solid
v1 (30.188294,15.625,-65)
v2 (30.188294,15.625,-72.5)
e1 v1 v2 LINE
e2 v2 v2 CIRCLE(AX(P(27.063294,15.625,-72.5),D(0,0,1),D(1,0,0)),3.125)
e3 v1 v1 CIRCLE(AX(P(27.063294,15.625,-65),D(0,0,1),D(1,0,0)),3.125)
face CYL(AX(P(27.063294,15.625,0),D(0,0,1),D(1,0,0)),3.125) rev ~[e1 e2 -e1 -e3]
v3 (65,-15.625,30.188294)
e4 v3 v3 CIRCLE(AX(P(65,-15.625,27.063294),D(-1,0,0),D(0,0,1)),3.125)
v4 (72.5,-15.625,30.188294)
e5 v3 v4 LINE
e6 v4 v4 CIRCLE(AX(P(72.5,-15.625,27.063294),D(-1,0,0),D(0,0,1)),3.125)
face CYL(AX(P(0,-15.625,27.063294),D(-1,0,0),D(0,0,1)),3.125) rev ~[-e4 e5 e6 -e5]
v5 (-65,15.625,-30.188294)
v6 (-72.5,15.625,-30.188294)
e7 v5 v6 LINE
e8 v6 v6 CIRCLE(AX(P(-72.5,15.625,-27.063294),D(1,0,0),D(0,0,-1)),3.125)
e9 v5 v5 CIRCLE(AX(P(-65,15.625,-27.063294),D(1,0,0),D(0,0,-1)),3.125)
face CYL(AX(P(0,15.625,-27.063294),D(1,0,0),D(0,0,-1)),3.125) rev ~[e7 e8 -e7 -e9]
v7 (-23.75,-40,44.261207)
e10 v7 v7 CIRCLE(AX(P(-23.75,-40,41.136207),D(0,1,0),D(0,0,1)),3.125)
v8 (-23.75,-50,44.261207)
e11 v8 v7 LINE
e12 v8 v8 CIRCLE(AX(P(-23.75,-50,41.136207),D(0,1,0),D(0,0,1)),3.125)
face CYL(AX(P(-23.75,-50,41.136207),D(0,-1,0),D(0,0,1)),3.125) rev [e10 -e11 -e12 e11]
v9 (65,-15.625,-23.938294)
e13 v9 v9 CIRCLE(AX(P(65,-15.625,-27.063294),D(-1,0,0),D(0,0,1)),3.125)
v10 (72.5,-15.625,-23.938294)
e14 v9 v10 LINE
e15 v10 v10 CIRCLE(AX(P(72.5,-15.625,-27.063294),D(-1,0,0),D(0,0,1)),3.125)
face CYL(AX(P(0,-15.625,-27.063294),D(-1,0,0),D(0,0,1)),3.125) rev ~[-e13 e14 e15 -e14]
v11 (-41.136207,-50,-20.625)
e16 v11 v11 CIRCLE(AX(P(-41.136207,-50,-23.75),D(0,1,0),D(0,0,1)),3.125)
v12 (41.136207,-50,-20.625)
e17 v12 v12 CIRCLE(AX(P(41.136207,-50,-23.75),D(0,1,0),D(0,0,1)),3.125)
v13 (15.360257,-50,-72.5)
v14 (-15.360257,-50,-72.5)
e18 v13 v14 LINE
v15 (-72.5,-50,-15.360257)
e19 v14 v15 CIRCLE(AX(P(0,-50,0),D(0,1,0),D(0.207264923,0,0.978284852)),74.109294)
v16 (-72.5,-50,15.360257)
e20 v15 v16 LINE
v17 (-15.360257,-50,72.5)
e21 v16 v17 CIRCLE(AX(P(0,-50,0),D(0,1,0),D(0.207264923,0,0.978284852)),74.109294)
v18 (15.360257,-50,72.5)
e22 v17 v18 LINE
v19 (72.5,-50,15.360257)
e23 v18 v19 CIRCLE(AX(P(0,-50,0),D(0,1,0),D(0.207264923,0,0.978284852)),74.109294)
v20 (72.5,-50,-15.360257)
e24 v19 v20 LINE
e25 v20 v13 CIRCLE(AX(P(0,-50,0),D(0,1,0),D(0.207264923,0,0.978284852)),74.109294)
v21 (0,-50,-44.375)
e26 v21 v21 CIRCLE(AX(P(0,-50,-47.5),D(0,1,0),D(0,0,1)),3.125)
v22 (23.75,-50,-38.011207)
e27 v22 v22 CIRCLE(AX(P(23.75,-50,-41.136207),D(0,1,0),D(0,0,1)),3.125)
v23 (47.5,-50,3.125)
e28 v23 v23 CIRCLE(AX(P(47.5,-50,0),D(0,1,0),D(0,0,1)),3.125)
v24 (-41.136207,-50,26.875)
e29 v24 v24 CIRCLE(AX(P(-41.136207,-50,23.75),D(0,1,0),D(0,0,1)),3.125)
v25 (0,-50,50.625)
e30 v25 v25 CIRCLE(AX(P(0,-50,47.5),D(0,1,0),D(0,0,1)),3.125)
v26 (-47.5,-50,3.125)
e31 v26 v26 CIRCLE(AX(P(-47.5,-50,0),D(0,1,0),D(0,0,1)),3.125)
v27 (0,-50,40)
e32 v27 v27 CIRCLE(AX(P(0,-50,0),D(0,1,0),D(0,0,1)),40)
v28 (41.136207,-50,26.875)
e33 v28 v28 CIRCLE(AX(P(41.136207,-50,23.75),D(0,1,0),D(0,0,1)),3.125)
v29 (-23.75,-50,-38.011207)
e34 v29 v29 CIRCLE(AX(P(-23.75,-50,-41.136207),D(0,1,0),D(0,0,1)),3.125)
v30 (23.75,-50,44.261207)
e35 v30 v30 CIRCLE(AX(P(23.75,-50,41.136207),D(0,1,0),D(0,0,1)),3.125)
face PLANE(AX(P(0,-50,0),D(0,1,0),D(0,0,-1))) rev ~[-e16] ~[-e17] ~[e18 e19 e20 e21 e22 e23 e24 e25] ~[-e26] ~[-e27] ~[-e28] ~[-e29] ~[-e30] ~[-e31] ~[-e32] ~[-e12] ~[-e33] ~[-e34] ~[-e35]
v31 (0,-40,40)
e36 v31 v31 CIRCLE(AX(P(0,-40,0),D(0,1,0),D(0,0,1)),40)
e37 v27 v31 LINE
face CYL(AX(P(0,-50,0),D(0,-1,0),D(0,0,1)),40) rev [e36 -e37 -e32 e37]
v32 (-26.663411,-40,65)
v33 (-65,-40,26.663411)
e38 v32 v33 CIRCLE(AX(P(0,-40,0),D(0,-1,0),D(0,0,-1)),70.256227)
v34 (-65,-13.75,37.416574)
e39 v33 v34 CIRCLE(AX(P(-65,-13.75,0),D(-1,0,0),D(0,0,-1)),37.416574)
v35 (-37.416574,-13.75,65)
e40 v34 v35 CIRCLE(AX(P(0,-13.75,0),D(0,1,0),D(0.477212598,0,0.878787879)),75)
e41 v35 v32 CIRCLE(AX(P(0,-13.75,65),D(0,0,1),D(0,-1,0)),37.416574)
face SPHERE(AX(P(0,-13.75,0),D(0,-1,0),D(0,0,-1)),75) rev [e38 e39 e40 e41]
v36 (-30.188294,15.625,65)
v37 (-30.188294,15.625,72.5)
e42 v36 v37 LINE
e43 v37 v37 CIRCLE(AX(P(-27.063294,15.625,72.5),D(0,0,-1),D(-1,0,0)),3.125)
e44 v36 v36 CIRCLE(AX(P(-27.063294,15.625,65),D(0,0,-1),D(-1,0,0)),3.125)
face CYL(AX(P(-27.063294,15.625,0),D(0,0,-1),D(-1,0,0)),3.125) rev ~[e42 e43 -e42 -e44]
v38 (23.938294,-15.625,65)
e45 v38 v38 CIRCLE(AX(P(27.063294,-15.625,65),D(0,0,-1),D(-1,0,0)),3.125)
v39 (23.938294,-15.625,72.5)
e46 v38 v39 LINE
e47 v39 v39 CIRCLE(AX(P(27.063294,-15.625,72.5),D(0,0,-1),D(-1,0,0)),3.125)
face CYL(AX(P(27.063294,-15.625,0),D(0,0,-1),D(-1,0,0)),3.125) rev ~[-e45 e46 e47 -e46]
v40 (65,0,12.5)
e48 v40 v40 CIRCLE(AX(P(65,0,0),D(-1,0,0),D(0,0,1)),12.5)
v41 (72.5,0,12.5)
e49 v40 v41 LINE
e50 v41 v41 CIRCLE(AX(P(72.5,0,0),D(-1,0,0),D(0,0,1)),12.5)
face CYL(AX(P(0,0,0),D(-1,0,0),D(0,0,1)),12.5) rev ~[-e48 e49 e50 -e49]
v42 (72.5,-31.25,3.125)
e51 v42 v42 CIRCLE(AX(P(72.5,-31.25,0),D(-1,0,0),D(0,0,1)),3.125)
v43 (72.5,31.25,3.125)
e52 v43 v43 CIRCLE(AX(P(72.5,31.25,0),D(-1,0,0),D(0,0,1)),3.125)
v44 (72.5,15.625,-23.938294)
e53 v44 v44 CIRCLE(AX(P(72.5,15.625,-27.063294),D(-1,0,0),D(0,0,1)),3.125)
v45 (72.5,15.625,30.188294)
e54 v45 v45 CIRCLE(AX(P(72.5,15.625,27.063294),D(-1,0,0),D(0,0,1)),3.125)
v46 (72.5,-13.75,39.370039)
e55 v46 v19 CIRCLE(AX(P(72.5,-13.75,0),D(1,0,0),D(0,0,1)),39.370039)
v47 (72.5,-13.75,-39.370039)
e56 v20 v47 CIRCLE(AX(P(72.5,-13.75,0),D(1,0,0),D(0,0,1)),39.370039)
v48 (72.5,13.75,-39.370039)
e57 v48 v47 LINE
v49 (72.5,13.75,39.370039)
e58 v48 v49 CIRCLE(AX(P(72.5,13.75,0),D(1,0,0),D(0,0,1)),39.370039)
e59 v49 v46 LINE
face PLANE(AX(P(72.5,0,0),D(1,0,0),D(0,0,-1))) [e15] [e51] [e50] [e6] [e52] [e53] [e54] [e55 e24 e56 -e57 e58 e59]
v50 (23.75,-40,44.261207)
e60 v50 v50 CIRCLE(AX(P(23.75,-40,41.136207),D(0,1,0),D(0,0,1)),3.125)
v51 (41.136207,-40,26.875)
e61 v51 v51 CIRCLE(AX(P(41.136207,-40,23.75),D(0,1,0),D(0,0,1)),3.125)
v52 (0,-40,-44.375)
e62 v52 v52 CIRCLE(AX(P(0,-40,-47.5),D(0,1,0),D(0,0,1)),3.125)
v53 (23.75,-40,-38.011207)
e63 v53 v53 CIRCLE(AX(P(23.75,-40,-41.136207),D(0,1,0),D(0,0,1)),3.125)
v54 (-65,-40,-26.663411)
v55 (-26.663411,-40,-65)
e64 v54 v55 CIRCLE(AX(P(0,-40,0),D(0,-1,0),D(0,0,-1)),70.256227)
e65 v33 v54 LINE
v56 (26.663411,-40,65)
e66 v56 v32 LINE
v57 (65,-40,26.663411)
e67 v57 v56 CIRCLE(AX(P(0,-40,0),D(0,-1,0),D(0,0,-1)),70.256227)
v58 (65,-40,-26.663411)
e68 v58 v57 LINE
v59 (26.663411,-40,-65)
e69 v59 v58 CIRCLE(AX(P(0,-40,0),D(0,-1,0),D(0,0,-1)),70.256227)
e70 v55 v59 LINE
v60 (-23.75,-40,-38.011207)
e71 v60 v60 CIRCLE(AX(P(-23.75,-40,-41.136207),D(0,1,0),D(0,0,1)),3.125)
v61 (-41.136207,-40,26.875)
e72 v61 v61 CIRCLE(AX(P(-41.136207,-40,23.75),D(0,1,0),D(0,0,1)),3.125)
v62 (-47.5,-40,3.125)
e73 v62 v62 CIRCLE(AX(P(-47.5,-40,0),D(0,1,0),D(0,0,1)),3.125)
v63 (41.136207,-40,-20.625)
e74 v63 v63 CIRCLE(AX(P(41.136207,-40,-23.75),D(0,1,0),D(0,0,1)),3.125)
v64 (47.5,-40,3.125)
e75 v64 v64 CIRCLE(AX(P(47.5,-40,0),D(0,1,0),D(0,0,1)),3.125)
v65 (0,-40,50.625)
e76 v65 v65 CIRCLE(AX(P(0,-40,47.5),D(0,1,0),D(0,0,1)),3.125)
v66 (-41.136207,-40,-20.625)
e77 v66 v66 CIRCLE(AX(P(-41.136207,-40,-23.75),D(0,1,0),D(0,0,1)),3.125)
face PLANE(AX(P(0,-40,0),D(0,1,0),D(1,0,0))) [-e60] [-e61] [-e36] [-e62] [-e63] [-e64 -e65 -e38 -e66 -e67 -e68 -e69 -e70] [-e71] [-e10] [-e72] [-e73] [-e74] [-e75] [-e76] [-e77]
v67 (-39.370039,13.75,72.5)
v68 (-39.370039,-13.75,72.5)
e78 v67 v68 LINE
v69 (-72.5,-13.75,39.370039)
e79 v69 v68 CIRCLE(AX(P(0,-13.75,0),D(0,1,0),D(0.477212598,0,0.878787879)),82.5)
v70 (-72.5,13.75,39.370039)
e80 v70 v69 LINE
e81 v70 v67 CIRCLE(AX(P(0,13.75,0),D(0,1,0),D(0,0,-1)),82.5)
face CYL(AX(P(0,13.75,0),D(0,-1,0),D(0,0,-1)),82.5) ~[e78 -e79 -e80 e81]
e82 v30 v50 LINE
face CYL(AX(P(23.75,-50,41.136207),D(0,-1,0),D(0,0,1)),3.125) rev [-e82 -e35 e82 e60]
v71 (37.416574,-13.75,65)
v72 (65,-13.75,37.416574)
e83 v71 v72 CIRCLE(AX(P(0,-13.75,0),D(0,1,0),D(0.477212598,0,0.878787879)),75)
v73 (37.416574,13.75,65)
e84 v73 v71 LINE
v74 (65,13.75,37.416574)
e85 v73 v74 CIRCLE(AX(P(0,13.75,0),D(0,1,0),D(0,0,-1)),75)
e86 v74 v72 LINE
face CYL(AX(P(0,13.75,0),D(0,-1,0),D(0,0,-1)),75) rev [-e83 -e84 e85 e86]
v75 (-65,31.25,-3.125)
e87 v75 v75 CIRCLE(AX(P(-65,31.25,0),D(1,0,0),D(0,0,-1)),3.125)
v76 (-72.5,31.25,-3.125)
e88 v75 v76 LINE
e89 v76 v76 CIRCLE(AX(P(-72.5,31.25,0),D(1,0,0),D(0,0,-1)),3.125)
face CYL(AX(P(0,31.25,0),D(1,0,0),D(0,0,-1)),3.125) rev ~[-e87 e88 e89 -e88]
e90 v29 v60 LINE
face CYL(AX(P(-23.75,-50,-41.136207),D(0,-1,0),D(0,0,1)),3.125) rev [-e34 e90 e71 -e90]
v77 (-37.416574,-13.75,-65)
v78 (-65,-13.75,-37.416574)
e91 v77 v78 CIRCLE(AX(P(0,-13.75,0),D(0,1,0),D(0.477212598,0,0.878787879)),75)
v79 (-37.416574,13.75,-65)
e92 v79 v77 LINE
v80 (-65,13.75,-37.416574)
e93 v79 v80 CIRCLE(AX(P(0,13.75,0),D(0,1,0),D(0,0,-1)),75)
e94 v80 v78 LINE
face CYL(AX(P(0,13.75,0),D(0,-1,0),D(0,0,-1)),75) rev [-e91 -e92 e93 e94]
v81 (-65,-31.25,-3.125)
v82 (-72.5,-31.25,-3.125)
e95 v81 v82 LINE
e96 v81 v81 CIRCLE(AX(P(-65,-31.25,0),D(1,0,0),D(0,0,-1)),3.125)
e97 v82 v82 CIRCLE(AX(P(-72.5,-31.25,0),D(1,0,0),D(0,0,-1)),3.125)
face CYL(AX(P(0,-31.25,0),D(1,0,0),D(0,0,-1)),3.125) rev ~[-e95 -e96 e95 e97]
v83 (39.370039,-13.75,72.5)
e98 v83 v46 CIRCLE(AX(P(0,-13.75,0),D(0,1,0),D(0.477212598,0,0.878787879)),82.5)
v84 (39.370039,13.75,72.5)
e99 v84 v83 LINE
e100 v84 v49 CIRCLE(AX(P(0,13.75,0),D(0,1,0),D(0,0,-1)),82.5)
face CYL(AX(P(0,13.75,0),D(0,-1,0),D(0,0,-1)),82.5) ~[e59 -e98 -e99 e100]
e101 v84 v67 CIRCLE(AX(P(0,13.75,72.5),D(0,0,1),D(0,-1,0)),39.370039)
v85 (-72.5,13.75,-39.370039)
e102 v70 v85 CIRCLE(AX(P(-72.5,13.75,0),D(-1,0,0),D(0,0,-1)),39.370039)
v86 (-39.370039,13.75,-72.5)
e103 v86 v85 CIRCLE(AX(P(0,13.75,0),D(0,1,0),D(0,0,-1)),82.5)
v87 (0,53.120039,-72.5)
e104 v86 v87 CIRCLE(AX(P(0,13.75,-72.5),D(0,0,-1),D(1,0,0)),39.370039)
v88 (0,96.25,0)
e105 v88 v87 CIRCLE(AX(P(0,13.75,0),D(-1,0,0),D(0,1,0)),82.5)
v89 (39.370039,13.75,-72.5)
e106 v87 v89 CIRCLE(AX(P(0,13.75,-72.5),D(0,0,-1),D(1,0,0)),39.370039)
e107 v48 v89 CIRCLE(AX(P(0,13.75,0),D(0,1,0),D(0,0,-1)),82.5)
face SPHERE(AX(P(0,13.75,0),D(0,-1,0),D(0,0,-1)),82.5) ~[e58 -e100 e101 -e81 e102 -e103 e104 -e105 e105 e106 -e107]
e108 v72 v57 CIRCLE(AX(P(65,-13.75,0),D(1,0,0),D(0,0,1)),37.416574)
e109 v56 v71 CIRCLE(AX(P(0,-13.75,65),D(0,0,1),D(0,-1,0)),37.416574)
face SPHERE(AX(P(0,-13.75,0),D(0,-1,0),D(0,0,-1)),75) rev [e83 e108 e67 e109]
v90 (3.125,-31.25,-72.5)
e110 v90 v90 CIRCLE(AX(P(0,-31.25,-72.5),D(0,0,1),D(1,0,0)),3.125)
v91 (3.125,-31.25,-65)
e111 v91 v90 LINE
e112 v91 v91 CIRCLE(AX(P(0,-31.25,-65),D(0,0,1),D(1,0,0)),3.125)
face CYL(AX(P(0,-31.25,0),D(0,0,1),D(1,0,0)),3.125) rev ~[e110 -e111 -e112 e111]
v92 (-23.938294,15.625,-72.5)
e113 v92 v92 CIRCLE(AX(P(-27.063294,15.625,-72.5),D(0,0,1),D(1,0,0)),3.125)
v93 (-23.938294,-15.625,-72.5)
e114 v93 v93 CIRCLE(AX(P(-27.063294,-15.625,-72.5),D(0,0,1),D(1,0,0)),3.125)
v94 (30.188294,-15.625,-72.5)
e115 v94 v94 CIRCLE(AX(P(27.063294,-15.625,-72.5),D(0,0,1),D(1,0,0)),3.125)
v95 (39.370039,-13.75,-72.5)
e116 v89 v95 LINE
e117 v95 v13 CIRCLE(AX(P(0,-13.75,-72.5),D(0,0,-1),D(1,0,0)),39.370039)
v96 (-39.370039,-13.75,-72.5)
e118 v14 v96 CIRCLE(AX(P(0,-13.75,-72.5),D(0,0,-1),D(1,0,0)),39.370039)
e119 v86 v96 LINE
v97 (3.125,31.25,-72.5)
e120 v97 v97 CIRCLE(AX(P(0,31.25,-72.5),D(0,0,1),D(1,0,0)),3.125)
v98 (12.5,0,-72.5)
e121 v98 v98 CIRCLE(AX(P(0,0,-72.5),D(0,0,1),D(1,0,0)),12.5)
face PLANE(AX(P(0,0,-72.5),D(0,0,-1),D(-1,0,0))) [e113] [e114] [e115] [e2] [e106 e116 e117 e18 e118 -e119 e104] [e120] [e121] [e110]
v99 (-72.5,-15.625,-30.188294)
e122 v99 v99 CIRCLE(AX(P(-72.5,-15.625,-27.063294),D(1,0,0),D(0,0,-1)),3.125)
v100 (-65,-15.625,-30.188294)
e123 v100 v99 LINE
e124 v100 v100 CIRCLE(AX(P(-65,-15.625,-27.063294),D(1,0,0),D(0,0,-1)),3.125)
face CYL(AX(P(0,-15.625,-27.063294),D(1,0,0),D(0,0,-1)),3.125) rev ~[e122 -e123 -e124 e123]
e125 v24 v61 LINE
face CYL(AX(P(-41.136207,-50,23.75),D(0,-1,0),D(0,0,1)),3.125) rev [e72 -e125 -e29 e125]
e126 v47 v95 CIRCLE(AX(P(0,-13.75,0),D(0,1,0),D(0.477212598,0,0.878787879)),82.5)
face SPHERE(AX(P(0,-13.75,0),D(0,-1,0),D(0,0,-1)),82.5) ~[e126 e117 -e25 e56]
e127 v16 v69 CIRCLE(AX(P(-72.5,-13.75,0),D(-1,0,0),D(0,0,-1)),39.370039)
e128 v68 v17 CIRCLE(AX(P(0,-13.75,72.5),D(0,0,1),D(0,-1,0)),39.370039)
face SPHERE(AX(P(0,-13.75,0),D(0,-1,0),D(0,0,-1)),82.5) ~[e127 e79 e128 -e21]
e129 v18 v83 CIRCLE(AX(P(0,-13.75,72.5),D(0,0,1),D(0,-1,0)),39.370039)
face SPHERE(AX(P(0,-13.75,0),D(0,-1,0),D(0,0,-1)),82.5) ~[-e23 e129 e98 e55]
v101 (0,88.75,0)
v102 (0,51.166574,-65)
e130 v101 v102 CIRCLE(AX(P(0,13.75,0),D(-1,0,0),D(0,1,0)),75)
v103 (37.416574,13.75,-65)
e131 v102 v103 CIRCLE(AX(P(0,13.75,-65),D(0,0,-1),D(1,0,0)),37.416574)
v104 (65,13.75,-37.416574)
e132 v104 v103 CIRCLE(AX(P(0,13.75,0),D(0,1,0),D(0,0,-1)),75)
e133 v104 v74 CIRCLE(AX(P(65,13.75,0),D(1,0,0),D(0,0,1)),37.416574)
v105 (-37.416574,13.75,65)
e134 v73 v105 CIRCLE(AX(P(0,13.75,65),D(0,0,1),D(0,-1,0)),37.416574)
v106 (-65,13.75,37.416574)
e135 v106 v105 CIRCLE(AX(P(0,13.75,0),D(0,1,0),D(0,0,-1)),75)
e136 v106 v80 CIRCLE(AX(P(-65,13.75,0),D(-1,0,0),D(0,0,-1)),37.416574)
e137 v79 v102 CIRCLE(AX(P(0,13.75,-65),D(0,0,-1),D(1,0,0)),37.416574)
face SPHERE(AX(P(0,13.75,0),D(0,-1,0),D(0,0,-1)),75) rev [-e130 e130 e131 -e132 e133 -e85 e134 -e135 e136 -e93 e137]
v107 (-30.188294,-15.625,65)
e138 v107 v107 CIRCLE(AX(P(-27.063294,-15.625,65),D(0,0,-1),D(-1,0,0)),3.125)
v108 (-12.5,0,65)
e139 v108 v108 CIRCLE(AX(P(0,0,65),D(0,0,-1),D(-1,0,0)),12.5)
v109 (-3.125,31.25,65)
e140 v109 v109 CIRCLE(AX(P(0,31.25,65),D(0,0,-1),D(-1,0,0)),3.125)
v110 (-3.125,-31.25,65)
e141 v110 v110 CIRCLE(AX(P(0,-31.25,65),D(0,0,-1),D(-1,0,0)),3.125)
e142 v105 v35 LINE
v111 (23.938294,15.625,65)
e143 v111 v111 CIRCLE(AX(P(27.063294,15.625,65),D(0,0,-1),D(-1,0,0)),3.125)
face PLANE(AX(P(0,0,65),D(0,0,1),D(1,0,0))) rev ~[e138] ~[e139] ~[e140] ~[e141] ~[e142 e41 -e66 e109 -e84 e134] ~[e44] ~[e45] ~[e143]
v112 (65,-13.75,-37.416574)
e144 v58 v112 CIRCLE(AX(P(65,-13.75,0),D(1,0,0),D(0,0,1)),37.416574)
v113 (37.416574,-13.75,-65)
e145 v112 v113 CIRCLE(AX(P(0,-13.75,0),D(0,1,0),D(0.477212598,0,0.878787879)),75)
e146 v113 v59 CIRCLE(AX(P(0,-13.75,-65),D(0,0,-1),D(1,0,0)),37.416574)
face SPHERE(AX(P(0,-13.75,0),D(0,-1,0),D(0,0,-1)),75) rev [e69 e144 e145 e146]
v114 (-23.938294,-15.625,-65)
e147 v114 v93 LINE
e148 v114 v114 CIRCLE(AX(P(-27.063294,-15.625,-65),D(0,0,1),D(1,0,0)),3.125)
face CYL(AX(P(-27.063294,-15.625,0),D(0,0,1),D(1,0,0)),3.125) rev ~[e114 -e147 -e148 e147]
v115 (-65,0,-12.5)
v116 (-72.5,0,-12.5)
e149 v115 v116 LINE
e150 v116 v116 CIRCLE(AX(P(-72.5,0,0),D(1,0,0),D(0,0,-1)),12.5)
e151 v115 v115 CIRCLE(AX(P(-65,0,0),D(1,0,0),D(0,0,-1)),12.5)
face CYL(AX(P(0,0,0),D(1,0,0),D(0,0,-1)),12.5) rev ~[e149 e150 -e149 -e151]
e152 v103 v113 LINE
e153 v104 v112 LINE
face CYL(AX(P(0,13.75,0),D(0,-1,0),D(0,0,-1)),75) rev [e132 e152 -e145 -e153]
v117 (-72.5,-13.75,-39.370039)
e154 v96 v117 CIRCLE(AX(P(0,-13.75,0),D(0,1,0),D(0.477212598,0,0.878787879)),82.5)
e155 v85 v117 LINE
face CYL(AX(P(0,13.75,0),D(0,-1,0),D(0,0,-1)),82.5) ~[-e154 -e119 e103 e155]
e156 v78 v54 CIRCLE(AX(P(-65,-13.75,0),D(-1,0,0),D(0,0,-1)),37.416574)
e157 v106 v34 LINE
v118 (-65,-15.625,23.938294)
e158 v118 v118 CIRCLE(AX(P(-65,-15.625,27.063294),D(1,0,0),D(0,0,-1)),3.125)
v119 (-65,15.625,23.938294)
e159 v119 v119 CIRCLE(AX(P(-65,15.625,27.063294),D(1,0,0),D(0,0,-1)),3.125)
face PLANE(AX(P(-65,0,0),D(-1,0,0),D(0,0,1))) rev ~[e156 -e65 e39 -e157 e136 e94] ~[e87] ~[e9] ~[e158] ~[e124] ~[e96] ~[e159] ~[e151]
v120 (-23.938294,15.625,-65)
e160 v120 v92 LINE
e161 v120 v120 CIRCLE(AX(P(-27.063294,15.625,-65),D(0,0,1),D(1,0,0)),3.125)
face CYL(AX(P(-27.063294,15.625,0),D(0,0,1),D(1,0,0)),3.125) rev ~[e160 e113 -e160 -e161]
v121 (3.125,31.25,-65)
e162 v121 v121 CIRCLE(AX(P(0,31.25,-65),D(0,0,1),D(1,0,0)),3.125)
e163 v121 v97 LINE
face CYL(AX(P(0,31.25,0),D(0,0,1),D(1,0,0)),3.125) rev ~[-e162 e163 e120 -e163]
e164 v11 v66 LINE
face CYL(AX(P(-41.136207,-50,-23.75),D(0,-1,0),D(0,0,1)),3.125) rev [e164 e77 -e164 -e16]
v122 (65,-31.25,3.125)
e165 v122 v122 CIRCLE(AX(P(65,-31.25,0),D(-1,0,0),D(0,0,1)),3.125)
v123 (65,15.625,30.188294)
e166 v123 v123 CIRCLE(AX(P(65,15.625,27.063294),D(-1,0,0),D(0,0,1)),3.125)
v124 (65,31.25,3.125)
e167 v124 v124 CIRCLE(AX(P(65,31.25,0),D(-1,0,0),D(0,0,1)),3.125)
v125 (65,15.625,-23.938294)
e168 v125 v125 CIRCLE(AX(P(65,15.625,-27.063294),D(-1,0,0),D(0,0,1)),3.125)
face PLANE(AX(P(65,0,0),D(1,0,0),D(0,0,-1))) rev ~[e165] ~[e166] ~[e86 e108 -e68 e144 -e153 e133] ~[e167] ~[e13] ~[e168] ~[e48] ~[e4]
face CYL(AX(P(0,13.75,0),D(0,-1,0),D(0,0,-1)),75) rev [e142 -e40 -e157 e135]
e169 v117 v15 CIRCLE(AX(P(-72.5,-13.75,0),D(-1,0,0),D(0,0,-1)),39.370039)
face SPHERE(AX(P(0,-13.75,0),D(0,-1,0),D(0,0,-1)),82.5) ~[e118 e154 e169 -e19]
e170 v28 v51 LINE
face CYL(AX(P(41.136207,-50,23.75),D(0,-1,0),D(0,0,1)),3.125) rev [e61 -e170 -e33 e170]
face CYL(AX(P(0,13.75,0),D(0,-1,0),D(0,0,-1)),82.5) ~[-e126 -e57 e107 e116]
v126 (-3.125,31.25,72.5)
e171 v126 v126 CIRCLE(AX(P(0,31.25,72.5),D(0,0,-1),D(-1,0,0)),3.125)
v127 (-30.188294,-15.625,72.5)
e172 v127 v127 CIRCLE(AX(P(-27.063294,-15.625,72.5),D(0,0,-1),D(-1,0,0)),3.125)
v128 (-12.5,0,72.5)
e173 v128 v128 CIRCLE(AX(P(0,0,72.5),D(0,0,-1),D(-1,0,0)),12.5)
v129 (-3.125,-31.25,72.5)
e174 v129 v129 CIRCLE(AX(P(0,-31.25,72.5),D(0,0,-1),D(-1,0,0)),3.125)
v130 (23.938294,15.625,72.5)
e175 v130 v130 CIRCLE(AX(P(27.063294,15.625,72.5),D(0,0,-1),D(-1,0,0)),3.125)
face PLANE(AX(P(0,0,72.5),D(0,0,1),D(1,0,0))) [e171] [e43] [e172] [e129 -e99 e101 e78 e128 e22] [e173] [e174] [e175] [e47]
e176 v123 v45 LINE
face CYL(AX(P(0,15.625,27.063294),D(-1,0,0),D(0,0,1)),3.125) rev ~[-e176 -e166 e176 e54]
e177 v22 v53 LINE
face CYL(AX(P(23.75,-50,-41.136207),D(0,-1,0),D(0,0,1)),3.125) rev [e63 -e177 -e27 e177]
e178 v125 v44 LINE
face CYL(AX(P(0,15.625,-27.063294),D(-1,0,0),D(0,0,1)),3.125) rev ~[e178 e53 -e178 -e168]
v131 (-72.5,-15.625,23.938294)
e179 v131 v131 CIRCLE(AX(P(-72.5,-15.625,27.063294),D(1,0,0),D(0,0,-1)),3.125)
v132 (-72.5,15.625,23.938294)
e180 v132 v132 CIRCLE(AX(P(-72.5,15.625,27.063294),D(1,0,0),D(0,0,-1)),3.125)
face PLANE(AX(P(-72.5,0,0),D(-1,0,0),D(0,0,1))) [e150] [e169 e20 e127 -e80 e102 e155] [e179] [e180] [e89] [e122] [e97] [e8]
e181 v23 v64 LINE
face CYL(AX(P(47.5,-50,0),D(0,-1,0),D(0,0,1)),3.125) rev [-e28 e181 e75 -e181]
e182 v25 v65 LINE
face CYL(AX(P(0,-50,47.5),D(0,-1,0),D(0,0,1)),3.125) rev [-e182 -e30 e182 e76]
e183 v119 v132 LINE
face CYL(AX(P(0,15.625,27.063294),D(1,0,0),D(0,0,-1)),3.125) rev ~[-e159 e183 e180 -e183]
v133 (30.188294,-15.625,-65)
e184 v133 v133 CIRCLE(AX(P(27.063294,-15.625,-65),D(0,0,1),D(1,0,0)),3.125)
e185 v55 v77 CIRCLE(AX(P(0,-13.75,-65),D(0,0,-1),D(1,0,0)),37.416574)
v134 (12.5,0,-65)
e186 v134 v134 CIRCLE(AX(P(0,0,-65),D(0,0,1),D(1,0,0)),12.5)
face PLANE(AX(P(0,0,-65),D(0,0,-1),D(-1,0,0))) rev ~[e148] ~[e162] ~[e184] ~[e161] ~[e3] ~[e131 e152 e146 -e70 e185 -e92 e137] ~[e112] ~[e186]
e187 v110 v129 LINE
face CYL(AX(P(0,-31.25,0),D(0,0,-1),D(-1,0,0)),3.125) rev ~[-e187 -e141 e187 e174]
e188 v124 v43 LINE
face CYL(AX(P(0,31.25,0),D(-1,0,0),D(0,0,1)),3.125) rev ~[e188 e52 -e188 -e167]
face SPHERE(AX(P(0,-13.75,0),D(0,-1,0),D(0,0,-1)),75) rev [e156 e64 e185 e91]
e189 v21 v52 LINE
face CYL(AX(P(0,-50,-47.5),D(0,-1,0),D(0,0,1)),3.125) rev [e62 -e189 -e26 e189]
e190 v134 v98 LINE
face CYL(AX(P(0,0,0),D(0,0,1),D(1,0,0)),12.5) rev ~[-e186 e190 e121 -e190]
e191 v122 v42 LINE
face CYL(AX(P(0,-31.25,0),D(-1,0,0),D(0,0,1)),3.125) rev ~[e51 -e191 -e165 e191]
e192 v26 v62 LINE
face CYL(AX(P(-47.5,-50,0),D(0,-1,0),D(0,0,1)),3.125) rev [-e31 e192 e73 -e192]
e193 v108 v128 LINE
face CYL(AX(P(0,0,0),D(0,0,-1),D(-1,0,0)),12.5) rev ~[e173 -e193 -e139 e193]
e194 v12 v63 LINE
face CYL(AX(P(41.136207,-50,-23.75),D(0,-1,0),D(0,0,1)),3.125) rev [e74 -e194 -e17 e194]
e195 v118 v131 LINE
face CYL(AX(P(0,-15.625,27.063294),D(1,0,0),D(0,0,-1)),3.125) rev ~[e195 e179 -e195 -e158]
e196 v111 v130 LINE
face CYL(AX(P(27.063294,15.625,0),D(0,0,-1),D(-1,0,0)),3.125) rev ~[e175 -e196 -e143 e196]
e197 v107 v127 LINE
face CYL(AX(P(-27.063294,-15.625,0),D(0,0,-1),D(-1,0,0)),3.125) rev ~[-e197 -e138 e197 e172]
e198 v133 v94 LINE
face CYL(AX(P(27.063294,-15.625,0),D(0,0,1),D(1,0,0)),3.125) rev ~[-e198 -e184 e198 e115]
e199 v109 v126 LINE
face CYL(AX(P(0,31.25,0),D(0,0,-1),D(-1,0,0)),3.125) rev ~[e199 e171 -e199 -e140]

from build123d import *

# Parameters (mm, degrees)
CUT_EXTRUDE2_START  = 500
SKETCH3_R           = 96.25
CUT_EXTRUDE2_DEPTH  = 427.5
CIRPATTERN4_COUNT   = 4
SHELL2_T            = -7.5
SKETCH3_3_R         = 12.5
SKETCH3_3_R_2       = 3.125
CUT_EXTRUDE3_DEPTH  = 141.629166605
CIRPATTERN5_COUNT   = 4
BOSS_EXTRUDE1_START = -50
SKETCH5_R           = 40
SKETCH5_R_2         = 3.125
BOSS_EXTRUDE1_DEPTH = 10


with BuildPart() as part:
    # Main Revolve Sketch → Main Revolve (revolve)
    with BuildSketch(Plane.XY, mode=Mode.PRIVATE) as main_revolve_sk:
        with BuildLine():
            Line((0, 0), (0, 96.25))
            ThreePointArc((0, 96.25), (-58.336309448, 72.086309448), (-82.5, 13.75))
            Line((-82.5, 13.75), (-82.5, 0))
            Line((-82.5, 0), (-82.5, -13.75))
            ThreePointArc((-82.5, -13.75), (-80.374954989, -32.354209486), (-74.109294289, -50))
            Line((-74.109294289, -50), (0, -50))
            Line((0, -50), (0, 0))
        make_face()
    revolve(main_revolve_sk.sketch.rotate(Axis((0, 0, 0), (0, 1, 0)), 270), axis=Axis((0, 0, 0), (0, 1, 0)))

    # Sketch3 → Cut-Extrude2 (cut)
    with BuildSketch(Plane.XY.offset(CUT_EXTRUDE2_START)):
        Circle(SKETCH3_R)
    cut_extrude2 = extrude(amount=-CUT_EXTRUDE2_DEPTH, mode=Mode.SUBTRACT)

    # CirPattern4: Cut-Extrude2 ×4 about axis
    cirpattern4_axis = Axis((0, 0, 0), (0, 1, 0))
    for i in range(1, CIRPATTERN4_COUNT):
        add(cut_extrude2.rotate(cirpattern4_axis, i * 360 / CIRPATTERN4_COUNT), mode=Mode.SUBTRACT)

    # Shell2
    shell2_openings = [part.faces().sort_by_distance(p)[0] for p in [
        (0, -50, 0),
    ]]
    offset(amount=SHELL2_T, openings=shell2_openings)

    # Sketch3<3> → Cut-Extrude3 (cut, through all)
    with BuildSketch(Plane.XY):
        Circle(SKETCH3_3_R)
        with Locations((0, 31.25)):
            Circle(SKETCH3_3_R_2)
        with Locations((27.063293868, 15.625)):
            Circle(SKETCH3_3_R_2)
        with Locations((27.063293868, -15.625)):
            Circle(SKETCH3_3_R_2)
        with Locations((0, -31.25)):
            Circle(SKETCH3_3_R_2)
        with Locations((-27.063293868, -15.625)):
            Circle(SKETCH3_3_R_2)
        with Locations((-27.063293868, 15.625)):
            Circle(SKETCH3_3_R_2)
    cut_extrude3 = extrude(amount=-CUT_EXTRUDE3_DEPTH, mode=Mode.SUBTRACT)

    # CirPattern5: Cut-Extrude3 ×4 about axis
    cirpattern5_axis = Axis((0, 0, 0), (0, -1, 0))
    for i in range(1, CIRPATTERN5_COUNT):
        add(cut_extrude3.rotate(cirpattern5_axis, i * 360 / CIRPATTERN5_COUNT), mode=Mode.SUBTRACT)

    # Sketch5 → Boss-Extrude1 (add)
    with BuildSketch(Plane(origin=(0, 0, 0), x_dir=(1, 0, 0), z_dir=(0, 1, 0)).offset(BOSS_EXTRUDE1_START)):
        with BuildLine():
            Line((-72.5, 15.360257159), (-72.5, -15.360257159))
            ThreePointArc((-72.5, -15.360257159), (-52.403184541, -52.403184541), (-15.360257159, -72.5))
            Line((-15.360257159, -72.5), (15.360257159, -72.5))
            ThreePointArc((15.360257159, -72.5), (52.403184541, -52.403184541), (72.5, -15.360257159))
            Line((72.5, -15.360257159), (72.5, 15.360257159))
            ThreePointArc((72.5, 15.360257159), (52.403184541, 52.403184541), (15.360257159, 72.5))
            Line((15.360257159, 72.5), (-15.360257159, 72.5))
            ThreePointArc((-15.360257159, 72.5), (-52.403184541, 52.403184541), (-72.5, 15.360257159))
        make_face()
        with Locations(Location((0, 0, 0), (0, 0, 270))):
            Circle(SKETCH5_R, mode=Mode.SUBTRACT)
        with Locations(Location((0, -47.5, 0), (0, 0, 270))):
            Circle(SKETCH5_R_2, mode=Mode.SUBTRACT)
        with Locations(Location((47.5, 0, 0), (0, 0, 270))):
            Circle(SKETCH5_R_2, mode=Mode.SUBTRACT)
        with Locations(Location((41.13620668, 23.75, 0), (0, 0, 270))):
            Circle(SKETCH5_R_2, mode=Mode.SUBTRACT)
        with Locations(Location((23.75, 41.13620668, 0), (0, 0, 270))):
            Circle(SKETCH5_R_2, mode=Mode.SUBTRACT)
        with Locations(Location((0, 47.5, 0), (0, 0, 270))):
            Circle(SKETCH5_R_2, mode=Mode.SUBTRACT)
        with Locations(Location((-23.75, 41.13620668, 0), (0, 0, 270))):
            Circle(SKETCH5_R_2, mode=Mode.SUBTRACT)
        with Locations(Location((-41.13620668, 23.75, 0), (0, 0, 270))):
            Circle(SKETCH5_R_2, mode=Mode.SUBTRACT)
        with Locations(Location((-47.5, 0, 0), (0, 0, 270))):
            Circle(SKETCH5_R_2, mode=Mode.SUBTRACT)
        with Locations(Location((-41.13620668, -23.75, 0), (0, 0, 270))):
            Circle(SKETCH5_R_2, mode=Mode.SUBTRACT)
        with Locations(Location((41.13620668, -23.75, 0), (0, 0, 270))):
            Circle(SKETCH5_R_2, mode=Mode.SUBTRACT)
        with Locations(Location((-23.75, -41.13620668, 0), (0, 0, 270))):
            Circle(SKETCH5_R_2, mode=Mode.SUBTRACT)
        with Locations(Location((23.75, -41.13620668, 0), (0, 0, 270))):
            Circle(SKETCH5_R_2, mode=Mode.SUBTRACT)
    extrude(amount=BOSS_EXTRUDE1_DEPTH)


solid = part.part
